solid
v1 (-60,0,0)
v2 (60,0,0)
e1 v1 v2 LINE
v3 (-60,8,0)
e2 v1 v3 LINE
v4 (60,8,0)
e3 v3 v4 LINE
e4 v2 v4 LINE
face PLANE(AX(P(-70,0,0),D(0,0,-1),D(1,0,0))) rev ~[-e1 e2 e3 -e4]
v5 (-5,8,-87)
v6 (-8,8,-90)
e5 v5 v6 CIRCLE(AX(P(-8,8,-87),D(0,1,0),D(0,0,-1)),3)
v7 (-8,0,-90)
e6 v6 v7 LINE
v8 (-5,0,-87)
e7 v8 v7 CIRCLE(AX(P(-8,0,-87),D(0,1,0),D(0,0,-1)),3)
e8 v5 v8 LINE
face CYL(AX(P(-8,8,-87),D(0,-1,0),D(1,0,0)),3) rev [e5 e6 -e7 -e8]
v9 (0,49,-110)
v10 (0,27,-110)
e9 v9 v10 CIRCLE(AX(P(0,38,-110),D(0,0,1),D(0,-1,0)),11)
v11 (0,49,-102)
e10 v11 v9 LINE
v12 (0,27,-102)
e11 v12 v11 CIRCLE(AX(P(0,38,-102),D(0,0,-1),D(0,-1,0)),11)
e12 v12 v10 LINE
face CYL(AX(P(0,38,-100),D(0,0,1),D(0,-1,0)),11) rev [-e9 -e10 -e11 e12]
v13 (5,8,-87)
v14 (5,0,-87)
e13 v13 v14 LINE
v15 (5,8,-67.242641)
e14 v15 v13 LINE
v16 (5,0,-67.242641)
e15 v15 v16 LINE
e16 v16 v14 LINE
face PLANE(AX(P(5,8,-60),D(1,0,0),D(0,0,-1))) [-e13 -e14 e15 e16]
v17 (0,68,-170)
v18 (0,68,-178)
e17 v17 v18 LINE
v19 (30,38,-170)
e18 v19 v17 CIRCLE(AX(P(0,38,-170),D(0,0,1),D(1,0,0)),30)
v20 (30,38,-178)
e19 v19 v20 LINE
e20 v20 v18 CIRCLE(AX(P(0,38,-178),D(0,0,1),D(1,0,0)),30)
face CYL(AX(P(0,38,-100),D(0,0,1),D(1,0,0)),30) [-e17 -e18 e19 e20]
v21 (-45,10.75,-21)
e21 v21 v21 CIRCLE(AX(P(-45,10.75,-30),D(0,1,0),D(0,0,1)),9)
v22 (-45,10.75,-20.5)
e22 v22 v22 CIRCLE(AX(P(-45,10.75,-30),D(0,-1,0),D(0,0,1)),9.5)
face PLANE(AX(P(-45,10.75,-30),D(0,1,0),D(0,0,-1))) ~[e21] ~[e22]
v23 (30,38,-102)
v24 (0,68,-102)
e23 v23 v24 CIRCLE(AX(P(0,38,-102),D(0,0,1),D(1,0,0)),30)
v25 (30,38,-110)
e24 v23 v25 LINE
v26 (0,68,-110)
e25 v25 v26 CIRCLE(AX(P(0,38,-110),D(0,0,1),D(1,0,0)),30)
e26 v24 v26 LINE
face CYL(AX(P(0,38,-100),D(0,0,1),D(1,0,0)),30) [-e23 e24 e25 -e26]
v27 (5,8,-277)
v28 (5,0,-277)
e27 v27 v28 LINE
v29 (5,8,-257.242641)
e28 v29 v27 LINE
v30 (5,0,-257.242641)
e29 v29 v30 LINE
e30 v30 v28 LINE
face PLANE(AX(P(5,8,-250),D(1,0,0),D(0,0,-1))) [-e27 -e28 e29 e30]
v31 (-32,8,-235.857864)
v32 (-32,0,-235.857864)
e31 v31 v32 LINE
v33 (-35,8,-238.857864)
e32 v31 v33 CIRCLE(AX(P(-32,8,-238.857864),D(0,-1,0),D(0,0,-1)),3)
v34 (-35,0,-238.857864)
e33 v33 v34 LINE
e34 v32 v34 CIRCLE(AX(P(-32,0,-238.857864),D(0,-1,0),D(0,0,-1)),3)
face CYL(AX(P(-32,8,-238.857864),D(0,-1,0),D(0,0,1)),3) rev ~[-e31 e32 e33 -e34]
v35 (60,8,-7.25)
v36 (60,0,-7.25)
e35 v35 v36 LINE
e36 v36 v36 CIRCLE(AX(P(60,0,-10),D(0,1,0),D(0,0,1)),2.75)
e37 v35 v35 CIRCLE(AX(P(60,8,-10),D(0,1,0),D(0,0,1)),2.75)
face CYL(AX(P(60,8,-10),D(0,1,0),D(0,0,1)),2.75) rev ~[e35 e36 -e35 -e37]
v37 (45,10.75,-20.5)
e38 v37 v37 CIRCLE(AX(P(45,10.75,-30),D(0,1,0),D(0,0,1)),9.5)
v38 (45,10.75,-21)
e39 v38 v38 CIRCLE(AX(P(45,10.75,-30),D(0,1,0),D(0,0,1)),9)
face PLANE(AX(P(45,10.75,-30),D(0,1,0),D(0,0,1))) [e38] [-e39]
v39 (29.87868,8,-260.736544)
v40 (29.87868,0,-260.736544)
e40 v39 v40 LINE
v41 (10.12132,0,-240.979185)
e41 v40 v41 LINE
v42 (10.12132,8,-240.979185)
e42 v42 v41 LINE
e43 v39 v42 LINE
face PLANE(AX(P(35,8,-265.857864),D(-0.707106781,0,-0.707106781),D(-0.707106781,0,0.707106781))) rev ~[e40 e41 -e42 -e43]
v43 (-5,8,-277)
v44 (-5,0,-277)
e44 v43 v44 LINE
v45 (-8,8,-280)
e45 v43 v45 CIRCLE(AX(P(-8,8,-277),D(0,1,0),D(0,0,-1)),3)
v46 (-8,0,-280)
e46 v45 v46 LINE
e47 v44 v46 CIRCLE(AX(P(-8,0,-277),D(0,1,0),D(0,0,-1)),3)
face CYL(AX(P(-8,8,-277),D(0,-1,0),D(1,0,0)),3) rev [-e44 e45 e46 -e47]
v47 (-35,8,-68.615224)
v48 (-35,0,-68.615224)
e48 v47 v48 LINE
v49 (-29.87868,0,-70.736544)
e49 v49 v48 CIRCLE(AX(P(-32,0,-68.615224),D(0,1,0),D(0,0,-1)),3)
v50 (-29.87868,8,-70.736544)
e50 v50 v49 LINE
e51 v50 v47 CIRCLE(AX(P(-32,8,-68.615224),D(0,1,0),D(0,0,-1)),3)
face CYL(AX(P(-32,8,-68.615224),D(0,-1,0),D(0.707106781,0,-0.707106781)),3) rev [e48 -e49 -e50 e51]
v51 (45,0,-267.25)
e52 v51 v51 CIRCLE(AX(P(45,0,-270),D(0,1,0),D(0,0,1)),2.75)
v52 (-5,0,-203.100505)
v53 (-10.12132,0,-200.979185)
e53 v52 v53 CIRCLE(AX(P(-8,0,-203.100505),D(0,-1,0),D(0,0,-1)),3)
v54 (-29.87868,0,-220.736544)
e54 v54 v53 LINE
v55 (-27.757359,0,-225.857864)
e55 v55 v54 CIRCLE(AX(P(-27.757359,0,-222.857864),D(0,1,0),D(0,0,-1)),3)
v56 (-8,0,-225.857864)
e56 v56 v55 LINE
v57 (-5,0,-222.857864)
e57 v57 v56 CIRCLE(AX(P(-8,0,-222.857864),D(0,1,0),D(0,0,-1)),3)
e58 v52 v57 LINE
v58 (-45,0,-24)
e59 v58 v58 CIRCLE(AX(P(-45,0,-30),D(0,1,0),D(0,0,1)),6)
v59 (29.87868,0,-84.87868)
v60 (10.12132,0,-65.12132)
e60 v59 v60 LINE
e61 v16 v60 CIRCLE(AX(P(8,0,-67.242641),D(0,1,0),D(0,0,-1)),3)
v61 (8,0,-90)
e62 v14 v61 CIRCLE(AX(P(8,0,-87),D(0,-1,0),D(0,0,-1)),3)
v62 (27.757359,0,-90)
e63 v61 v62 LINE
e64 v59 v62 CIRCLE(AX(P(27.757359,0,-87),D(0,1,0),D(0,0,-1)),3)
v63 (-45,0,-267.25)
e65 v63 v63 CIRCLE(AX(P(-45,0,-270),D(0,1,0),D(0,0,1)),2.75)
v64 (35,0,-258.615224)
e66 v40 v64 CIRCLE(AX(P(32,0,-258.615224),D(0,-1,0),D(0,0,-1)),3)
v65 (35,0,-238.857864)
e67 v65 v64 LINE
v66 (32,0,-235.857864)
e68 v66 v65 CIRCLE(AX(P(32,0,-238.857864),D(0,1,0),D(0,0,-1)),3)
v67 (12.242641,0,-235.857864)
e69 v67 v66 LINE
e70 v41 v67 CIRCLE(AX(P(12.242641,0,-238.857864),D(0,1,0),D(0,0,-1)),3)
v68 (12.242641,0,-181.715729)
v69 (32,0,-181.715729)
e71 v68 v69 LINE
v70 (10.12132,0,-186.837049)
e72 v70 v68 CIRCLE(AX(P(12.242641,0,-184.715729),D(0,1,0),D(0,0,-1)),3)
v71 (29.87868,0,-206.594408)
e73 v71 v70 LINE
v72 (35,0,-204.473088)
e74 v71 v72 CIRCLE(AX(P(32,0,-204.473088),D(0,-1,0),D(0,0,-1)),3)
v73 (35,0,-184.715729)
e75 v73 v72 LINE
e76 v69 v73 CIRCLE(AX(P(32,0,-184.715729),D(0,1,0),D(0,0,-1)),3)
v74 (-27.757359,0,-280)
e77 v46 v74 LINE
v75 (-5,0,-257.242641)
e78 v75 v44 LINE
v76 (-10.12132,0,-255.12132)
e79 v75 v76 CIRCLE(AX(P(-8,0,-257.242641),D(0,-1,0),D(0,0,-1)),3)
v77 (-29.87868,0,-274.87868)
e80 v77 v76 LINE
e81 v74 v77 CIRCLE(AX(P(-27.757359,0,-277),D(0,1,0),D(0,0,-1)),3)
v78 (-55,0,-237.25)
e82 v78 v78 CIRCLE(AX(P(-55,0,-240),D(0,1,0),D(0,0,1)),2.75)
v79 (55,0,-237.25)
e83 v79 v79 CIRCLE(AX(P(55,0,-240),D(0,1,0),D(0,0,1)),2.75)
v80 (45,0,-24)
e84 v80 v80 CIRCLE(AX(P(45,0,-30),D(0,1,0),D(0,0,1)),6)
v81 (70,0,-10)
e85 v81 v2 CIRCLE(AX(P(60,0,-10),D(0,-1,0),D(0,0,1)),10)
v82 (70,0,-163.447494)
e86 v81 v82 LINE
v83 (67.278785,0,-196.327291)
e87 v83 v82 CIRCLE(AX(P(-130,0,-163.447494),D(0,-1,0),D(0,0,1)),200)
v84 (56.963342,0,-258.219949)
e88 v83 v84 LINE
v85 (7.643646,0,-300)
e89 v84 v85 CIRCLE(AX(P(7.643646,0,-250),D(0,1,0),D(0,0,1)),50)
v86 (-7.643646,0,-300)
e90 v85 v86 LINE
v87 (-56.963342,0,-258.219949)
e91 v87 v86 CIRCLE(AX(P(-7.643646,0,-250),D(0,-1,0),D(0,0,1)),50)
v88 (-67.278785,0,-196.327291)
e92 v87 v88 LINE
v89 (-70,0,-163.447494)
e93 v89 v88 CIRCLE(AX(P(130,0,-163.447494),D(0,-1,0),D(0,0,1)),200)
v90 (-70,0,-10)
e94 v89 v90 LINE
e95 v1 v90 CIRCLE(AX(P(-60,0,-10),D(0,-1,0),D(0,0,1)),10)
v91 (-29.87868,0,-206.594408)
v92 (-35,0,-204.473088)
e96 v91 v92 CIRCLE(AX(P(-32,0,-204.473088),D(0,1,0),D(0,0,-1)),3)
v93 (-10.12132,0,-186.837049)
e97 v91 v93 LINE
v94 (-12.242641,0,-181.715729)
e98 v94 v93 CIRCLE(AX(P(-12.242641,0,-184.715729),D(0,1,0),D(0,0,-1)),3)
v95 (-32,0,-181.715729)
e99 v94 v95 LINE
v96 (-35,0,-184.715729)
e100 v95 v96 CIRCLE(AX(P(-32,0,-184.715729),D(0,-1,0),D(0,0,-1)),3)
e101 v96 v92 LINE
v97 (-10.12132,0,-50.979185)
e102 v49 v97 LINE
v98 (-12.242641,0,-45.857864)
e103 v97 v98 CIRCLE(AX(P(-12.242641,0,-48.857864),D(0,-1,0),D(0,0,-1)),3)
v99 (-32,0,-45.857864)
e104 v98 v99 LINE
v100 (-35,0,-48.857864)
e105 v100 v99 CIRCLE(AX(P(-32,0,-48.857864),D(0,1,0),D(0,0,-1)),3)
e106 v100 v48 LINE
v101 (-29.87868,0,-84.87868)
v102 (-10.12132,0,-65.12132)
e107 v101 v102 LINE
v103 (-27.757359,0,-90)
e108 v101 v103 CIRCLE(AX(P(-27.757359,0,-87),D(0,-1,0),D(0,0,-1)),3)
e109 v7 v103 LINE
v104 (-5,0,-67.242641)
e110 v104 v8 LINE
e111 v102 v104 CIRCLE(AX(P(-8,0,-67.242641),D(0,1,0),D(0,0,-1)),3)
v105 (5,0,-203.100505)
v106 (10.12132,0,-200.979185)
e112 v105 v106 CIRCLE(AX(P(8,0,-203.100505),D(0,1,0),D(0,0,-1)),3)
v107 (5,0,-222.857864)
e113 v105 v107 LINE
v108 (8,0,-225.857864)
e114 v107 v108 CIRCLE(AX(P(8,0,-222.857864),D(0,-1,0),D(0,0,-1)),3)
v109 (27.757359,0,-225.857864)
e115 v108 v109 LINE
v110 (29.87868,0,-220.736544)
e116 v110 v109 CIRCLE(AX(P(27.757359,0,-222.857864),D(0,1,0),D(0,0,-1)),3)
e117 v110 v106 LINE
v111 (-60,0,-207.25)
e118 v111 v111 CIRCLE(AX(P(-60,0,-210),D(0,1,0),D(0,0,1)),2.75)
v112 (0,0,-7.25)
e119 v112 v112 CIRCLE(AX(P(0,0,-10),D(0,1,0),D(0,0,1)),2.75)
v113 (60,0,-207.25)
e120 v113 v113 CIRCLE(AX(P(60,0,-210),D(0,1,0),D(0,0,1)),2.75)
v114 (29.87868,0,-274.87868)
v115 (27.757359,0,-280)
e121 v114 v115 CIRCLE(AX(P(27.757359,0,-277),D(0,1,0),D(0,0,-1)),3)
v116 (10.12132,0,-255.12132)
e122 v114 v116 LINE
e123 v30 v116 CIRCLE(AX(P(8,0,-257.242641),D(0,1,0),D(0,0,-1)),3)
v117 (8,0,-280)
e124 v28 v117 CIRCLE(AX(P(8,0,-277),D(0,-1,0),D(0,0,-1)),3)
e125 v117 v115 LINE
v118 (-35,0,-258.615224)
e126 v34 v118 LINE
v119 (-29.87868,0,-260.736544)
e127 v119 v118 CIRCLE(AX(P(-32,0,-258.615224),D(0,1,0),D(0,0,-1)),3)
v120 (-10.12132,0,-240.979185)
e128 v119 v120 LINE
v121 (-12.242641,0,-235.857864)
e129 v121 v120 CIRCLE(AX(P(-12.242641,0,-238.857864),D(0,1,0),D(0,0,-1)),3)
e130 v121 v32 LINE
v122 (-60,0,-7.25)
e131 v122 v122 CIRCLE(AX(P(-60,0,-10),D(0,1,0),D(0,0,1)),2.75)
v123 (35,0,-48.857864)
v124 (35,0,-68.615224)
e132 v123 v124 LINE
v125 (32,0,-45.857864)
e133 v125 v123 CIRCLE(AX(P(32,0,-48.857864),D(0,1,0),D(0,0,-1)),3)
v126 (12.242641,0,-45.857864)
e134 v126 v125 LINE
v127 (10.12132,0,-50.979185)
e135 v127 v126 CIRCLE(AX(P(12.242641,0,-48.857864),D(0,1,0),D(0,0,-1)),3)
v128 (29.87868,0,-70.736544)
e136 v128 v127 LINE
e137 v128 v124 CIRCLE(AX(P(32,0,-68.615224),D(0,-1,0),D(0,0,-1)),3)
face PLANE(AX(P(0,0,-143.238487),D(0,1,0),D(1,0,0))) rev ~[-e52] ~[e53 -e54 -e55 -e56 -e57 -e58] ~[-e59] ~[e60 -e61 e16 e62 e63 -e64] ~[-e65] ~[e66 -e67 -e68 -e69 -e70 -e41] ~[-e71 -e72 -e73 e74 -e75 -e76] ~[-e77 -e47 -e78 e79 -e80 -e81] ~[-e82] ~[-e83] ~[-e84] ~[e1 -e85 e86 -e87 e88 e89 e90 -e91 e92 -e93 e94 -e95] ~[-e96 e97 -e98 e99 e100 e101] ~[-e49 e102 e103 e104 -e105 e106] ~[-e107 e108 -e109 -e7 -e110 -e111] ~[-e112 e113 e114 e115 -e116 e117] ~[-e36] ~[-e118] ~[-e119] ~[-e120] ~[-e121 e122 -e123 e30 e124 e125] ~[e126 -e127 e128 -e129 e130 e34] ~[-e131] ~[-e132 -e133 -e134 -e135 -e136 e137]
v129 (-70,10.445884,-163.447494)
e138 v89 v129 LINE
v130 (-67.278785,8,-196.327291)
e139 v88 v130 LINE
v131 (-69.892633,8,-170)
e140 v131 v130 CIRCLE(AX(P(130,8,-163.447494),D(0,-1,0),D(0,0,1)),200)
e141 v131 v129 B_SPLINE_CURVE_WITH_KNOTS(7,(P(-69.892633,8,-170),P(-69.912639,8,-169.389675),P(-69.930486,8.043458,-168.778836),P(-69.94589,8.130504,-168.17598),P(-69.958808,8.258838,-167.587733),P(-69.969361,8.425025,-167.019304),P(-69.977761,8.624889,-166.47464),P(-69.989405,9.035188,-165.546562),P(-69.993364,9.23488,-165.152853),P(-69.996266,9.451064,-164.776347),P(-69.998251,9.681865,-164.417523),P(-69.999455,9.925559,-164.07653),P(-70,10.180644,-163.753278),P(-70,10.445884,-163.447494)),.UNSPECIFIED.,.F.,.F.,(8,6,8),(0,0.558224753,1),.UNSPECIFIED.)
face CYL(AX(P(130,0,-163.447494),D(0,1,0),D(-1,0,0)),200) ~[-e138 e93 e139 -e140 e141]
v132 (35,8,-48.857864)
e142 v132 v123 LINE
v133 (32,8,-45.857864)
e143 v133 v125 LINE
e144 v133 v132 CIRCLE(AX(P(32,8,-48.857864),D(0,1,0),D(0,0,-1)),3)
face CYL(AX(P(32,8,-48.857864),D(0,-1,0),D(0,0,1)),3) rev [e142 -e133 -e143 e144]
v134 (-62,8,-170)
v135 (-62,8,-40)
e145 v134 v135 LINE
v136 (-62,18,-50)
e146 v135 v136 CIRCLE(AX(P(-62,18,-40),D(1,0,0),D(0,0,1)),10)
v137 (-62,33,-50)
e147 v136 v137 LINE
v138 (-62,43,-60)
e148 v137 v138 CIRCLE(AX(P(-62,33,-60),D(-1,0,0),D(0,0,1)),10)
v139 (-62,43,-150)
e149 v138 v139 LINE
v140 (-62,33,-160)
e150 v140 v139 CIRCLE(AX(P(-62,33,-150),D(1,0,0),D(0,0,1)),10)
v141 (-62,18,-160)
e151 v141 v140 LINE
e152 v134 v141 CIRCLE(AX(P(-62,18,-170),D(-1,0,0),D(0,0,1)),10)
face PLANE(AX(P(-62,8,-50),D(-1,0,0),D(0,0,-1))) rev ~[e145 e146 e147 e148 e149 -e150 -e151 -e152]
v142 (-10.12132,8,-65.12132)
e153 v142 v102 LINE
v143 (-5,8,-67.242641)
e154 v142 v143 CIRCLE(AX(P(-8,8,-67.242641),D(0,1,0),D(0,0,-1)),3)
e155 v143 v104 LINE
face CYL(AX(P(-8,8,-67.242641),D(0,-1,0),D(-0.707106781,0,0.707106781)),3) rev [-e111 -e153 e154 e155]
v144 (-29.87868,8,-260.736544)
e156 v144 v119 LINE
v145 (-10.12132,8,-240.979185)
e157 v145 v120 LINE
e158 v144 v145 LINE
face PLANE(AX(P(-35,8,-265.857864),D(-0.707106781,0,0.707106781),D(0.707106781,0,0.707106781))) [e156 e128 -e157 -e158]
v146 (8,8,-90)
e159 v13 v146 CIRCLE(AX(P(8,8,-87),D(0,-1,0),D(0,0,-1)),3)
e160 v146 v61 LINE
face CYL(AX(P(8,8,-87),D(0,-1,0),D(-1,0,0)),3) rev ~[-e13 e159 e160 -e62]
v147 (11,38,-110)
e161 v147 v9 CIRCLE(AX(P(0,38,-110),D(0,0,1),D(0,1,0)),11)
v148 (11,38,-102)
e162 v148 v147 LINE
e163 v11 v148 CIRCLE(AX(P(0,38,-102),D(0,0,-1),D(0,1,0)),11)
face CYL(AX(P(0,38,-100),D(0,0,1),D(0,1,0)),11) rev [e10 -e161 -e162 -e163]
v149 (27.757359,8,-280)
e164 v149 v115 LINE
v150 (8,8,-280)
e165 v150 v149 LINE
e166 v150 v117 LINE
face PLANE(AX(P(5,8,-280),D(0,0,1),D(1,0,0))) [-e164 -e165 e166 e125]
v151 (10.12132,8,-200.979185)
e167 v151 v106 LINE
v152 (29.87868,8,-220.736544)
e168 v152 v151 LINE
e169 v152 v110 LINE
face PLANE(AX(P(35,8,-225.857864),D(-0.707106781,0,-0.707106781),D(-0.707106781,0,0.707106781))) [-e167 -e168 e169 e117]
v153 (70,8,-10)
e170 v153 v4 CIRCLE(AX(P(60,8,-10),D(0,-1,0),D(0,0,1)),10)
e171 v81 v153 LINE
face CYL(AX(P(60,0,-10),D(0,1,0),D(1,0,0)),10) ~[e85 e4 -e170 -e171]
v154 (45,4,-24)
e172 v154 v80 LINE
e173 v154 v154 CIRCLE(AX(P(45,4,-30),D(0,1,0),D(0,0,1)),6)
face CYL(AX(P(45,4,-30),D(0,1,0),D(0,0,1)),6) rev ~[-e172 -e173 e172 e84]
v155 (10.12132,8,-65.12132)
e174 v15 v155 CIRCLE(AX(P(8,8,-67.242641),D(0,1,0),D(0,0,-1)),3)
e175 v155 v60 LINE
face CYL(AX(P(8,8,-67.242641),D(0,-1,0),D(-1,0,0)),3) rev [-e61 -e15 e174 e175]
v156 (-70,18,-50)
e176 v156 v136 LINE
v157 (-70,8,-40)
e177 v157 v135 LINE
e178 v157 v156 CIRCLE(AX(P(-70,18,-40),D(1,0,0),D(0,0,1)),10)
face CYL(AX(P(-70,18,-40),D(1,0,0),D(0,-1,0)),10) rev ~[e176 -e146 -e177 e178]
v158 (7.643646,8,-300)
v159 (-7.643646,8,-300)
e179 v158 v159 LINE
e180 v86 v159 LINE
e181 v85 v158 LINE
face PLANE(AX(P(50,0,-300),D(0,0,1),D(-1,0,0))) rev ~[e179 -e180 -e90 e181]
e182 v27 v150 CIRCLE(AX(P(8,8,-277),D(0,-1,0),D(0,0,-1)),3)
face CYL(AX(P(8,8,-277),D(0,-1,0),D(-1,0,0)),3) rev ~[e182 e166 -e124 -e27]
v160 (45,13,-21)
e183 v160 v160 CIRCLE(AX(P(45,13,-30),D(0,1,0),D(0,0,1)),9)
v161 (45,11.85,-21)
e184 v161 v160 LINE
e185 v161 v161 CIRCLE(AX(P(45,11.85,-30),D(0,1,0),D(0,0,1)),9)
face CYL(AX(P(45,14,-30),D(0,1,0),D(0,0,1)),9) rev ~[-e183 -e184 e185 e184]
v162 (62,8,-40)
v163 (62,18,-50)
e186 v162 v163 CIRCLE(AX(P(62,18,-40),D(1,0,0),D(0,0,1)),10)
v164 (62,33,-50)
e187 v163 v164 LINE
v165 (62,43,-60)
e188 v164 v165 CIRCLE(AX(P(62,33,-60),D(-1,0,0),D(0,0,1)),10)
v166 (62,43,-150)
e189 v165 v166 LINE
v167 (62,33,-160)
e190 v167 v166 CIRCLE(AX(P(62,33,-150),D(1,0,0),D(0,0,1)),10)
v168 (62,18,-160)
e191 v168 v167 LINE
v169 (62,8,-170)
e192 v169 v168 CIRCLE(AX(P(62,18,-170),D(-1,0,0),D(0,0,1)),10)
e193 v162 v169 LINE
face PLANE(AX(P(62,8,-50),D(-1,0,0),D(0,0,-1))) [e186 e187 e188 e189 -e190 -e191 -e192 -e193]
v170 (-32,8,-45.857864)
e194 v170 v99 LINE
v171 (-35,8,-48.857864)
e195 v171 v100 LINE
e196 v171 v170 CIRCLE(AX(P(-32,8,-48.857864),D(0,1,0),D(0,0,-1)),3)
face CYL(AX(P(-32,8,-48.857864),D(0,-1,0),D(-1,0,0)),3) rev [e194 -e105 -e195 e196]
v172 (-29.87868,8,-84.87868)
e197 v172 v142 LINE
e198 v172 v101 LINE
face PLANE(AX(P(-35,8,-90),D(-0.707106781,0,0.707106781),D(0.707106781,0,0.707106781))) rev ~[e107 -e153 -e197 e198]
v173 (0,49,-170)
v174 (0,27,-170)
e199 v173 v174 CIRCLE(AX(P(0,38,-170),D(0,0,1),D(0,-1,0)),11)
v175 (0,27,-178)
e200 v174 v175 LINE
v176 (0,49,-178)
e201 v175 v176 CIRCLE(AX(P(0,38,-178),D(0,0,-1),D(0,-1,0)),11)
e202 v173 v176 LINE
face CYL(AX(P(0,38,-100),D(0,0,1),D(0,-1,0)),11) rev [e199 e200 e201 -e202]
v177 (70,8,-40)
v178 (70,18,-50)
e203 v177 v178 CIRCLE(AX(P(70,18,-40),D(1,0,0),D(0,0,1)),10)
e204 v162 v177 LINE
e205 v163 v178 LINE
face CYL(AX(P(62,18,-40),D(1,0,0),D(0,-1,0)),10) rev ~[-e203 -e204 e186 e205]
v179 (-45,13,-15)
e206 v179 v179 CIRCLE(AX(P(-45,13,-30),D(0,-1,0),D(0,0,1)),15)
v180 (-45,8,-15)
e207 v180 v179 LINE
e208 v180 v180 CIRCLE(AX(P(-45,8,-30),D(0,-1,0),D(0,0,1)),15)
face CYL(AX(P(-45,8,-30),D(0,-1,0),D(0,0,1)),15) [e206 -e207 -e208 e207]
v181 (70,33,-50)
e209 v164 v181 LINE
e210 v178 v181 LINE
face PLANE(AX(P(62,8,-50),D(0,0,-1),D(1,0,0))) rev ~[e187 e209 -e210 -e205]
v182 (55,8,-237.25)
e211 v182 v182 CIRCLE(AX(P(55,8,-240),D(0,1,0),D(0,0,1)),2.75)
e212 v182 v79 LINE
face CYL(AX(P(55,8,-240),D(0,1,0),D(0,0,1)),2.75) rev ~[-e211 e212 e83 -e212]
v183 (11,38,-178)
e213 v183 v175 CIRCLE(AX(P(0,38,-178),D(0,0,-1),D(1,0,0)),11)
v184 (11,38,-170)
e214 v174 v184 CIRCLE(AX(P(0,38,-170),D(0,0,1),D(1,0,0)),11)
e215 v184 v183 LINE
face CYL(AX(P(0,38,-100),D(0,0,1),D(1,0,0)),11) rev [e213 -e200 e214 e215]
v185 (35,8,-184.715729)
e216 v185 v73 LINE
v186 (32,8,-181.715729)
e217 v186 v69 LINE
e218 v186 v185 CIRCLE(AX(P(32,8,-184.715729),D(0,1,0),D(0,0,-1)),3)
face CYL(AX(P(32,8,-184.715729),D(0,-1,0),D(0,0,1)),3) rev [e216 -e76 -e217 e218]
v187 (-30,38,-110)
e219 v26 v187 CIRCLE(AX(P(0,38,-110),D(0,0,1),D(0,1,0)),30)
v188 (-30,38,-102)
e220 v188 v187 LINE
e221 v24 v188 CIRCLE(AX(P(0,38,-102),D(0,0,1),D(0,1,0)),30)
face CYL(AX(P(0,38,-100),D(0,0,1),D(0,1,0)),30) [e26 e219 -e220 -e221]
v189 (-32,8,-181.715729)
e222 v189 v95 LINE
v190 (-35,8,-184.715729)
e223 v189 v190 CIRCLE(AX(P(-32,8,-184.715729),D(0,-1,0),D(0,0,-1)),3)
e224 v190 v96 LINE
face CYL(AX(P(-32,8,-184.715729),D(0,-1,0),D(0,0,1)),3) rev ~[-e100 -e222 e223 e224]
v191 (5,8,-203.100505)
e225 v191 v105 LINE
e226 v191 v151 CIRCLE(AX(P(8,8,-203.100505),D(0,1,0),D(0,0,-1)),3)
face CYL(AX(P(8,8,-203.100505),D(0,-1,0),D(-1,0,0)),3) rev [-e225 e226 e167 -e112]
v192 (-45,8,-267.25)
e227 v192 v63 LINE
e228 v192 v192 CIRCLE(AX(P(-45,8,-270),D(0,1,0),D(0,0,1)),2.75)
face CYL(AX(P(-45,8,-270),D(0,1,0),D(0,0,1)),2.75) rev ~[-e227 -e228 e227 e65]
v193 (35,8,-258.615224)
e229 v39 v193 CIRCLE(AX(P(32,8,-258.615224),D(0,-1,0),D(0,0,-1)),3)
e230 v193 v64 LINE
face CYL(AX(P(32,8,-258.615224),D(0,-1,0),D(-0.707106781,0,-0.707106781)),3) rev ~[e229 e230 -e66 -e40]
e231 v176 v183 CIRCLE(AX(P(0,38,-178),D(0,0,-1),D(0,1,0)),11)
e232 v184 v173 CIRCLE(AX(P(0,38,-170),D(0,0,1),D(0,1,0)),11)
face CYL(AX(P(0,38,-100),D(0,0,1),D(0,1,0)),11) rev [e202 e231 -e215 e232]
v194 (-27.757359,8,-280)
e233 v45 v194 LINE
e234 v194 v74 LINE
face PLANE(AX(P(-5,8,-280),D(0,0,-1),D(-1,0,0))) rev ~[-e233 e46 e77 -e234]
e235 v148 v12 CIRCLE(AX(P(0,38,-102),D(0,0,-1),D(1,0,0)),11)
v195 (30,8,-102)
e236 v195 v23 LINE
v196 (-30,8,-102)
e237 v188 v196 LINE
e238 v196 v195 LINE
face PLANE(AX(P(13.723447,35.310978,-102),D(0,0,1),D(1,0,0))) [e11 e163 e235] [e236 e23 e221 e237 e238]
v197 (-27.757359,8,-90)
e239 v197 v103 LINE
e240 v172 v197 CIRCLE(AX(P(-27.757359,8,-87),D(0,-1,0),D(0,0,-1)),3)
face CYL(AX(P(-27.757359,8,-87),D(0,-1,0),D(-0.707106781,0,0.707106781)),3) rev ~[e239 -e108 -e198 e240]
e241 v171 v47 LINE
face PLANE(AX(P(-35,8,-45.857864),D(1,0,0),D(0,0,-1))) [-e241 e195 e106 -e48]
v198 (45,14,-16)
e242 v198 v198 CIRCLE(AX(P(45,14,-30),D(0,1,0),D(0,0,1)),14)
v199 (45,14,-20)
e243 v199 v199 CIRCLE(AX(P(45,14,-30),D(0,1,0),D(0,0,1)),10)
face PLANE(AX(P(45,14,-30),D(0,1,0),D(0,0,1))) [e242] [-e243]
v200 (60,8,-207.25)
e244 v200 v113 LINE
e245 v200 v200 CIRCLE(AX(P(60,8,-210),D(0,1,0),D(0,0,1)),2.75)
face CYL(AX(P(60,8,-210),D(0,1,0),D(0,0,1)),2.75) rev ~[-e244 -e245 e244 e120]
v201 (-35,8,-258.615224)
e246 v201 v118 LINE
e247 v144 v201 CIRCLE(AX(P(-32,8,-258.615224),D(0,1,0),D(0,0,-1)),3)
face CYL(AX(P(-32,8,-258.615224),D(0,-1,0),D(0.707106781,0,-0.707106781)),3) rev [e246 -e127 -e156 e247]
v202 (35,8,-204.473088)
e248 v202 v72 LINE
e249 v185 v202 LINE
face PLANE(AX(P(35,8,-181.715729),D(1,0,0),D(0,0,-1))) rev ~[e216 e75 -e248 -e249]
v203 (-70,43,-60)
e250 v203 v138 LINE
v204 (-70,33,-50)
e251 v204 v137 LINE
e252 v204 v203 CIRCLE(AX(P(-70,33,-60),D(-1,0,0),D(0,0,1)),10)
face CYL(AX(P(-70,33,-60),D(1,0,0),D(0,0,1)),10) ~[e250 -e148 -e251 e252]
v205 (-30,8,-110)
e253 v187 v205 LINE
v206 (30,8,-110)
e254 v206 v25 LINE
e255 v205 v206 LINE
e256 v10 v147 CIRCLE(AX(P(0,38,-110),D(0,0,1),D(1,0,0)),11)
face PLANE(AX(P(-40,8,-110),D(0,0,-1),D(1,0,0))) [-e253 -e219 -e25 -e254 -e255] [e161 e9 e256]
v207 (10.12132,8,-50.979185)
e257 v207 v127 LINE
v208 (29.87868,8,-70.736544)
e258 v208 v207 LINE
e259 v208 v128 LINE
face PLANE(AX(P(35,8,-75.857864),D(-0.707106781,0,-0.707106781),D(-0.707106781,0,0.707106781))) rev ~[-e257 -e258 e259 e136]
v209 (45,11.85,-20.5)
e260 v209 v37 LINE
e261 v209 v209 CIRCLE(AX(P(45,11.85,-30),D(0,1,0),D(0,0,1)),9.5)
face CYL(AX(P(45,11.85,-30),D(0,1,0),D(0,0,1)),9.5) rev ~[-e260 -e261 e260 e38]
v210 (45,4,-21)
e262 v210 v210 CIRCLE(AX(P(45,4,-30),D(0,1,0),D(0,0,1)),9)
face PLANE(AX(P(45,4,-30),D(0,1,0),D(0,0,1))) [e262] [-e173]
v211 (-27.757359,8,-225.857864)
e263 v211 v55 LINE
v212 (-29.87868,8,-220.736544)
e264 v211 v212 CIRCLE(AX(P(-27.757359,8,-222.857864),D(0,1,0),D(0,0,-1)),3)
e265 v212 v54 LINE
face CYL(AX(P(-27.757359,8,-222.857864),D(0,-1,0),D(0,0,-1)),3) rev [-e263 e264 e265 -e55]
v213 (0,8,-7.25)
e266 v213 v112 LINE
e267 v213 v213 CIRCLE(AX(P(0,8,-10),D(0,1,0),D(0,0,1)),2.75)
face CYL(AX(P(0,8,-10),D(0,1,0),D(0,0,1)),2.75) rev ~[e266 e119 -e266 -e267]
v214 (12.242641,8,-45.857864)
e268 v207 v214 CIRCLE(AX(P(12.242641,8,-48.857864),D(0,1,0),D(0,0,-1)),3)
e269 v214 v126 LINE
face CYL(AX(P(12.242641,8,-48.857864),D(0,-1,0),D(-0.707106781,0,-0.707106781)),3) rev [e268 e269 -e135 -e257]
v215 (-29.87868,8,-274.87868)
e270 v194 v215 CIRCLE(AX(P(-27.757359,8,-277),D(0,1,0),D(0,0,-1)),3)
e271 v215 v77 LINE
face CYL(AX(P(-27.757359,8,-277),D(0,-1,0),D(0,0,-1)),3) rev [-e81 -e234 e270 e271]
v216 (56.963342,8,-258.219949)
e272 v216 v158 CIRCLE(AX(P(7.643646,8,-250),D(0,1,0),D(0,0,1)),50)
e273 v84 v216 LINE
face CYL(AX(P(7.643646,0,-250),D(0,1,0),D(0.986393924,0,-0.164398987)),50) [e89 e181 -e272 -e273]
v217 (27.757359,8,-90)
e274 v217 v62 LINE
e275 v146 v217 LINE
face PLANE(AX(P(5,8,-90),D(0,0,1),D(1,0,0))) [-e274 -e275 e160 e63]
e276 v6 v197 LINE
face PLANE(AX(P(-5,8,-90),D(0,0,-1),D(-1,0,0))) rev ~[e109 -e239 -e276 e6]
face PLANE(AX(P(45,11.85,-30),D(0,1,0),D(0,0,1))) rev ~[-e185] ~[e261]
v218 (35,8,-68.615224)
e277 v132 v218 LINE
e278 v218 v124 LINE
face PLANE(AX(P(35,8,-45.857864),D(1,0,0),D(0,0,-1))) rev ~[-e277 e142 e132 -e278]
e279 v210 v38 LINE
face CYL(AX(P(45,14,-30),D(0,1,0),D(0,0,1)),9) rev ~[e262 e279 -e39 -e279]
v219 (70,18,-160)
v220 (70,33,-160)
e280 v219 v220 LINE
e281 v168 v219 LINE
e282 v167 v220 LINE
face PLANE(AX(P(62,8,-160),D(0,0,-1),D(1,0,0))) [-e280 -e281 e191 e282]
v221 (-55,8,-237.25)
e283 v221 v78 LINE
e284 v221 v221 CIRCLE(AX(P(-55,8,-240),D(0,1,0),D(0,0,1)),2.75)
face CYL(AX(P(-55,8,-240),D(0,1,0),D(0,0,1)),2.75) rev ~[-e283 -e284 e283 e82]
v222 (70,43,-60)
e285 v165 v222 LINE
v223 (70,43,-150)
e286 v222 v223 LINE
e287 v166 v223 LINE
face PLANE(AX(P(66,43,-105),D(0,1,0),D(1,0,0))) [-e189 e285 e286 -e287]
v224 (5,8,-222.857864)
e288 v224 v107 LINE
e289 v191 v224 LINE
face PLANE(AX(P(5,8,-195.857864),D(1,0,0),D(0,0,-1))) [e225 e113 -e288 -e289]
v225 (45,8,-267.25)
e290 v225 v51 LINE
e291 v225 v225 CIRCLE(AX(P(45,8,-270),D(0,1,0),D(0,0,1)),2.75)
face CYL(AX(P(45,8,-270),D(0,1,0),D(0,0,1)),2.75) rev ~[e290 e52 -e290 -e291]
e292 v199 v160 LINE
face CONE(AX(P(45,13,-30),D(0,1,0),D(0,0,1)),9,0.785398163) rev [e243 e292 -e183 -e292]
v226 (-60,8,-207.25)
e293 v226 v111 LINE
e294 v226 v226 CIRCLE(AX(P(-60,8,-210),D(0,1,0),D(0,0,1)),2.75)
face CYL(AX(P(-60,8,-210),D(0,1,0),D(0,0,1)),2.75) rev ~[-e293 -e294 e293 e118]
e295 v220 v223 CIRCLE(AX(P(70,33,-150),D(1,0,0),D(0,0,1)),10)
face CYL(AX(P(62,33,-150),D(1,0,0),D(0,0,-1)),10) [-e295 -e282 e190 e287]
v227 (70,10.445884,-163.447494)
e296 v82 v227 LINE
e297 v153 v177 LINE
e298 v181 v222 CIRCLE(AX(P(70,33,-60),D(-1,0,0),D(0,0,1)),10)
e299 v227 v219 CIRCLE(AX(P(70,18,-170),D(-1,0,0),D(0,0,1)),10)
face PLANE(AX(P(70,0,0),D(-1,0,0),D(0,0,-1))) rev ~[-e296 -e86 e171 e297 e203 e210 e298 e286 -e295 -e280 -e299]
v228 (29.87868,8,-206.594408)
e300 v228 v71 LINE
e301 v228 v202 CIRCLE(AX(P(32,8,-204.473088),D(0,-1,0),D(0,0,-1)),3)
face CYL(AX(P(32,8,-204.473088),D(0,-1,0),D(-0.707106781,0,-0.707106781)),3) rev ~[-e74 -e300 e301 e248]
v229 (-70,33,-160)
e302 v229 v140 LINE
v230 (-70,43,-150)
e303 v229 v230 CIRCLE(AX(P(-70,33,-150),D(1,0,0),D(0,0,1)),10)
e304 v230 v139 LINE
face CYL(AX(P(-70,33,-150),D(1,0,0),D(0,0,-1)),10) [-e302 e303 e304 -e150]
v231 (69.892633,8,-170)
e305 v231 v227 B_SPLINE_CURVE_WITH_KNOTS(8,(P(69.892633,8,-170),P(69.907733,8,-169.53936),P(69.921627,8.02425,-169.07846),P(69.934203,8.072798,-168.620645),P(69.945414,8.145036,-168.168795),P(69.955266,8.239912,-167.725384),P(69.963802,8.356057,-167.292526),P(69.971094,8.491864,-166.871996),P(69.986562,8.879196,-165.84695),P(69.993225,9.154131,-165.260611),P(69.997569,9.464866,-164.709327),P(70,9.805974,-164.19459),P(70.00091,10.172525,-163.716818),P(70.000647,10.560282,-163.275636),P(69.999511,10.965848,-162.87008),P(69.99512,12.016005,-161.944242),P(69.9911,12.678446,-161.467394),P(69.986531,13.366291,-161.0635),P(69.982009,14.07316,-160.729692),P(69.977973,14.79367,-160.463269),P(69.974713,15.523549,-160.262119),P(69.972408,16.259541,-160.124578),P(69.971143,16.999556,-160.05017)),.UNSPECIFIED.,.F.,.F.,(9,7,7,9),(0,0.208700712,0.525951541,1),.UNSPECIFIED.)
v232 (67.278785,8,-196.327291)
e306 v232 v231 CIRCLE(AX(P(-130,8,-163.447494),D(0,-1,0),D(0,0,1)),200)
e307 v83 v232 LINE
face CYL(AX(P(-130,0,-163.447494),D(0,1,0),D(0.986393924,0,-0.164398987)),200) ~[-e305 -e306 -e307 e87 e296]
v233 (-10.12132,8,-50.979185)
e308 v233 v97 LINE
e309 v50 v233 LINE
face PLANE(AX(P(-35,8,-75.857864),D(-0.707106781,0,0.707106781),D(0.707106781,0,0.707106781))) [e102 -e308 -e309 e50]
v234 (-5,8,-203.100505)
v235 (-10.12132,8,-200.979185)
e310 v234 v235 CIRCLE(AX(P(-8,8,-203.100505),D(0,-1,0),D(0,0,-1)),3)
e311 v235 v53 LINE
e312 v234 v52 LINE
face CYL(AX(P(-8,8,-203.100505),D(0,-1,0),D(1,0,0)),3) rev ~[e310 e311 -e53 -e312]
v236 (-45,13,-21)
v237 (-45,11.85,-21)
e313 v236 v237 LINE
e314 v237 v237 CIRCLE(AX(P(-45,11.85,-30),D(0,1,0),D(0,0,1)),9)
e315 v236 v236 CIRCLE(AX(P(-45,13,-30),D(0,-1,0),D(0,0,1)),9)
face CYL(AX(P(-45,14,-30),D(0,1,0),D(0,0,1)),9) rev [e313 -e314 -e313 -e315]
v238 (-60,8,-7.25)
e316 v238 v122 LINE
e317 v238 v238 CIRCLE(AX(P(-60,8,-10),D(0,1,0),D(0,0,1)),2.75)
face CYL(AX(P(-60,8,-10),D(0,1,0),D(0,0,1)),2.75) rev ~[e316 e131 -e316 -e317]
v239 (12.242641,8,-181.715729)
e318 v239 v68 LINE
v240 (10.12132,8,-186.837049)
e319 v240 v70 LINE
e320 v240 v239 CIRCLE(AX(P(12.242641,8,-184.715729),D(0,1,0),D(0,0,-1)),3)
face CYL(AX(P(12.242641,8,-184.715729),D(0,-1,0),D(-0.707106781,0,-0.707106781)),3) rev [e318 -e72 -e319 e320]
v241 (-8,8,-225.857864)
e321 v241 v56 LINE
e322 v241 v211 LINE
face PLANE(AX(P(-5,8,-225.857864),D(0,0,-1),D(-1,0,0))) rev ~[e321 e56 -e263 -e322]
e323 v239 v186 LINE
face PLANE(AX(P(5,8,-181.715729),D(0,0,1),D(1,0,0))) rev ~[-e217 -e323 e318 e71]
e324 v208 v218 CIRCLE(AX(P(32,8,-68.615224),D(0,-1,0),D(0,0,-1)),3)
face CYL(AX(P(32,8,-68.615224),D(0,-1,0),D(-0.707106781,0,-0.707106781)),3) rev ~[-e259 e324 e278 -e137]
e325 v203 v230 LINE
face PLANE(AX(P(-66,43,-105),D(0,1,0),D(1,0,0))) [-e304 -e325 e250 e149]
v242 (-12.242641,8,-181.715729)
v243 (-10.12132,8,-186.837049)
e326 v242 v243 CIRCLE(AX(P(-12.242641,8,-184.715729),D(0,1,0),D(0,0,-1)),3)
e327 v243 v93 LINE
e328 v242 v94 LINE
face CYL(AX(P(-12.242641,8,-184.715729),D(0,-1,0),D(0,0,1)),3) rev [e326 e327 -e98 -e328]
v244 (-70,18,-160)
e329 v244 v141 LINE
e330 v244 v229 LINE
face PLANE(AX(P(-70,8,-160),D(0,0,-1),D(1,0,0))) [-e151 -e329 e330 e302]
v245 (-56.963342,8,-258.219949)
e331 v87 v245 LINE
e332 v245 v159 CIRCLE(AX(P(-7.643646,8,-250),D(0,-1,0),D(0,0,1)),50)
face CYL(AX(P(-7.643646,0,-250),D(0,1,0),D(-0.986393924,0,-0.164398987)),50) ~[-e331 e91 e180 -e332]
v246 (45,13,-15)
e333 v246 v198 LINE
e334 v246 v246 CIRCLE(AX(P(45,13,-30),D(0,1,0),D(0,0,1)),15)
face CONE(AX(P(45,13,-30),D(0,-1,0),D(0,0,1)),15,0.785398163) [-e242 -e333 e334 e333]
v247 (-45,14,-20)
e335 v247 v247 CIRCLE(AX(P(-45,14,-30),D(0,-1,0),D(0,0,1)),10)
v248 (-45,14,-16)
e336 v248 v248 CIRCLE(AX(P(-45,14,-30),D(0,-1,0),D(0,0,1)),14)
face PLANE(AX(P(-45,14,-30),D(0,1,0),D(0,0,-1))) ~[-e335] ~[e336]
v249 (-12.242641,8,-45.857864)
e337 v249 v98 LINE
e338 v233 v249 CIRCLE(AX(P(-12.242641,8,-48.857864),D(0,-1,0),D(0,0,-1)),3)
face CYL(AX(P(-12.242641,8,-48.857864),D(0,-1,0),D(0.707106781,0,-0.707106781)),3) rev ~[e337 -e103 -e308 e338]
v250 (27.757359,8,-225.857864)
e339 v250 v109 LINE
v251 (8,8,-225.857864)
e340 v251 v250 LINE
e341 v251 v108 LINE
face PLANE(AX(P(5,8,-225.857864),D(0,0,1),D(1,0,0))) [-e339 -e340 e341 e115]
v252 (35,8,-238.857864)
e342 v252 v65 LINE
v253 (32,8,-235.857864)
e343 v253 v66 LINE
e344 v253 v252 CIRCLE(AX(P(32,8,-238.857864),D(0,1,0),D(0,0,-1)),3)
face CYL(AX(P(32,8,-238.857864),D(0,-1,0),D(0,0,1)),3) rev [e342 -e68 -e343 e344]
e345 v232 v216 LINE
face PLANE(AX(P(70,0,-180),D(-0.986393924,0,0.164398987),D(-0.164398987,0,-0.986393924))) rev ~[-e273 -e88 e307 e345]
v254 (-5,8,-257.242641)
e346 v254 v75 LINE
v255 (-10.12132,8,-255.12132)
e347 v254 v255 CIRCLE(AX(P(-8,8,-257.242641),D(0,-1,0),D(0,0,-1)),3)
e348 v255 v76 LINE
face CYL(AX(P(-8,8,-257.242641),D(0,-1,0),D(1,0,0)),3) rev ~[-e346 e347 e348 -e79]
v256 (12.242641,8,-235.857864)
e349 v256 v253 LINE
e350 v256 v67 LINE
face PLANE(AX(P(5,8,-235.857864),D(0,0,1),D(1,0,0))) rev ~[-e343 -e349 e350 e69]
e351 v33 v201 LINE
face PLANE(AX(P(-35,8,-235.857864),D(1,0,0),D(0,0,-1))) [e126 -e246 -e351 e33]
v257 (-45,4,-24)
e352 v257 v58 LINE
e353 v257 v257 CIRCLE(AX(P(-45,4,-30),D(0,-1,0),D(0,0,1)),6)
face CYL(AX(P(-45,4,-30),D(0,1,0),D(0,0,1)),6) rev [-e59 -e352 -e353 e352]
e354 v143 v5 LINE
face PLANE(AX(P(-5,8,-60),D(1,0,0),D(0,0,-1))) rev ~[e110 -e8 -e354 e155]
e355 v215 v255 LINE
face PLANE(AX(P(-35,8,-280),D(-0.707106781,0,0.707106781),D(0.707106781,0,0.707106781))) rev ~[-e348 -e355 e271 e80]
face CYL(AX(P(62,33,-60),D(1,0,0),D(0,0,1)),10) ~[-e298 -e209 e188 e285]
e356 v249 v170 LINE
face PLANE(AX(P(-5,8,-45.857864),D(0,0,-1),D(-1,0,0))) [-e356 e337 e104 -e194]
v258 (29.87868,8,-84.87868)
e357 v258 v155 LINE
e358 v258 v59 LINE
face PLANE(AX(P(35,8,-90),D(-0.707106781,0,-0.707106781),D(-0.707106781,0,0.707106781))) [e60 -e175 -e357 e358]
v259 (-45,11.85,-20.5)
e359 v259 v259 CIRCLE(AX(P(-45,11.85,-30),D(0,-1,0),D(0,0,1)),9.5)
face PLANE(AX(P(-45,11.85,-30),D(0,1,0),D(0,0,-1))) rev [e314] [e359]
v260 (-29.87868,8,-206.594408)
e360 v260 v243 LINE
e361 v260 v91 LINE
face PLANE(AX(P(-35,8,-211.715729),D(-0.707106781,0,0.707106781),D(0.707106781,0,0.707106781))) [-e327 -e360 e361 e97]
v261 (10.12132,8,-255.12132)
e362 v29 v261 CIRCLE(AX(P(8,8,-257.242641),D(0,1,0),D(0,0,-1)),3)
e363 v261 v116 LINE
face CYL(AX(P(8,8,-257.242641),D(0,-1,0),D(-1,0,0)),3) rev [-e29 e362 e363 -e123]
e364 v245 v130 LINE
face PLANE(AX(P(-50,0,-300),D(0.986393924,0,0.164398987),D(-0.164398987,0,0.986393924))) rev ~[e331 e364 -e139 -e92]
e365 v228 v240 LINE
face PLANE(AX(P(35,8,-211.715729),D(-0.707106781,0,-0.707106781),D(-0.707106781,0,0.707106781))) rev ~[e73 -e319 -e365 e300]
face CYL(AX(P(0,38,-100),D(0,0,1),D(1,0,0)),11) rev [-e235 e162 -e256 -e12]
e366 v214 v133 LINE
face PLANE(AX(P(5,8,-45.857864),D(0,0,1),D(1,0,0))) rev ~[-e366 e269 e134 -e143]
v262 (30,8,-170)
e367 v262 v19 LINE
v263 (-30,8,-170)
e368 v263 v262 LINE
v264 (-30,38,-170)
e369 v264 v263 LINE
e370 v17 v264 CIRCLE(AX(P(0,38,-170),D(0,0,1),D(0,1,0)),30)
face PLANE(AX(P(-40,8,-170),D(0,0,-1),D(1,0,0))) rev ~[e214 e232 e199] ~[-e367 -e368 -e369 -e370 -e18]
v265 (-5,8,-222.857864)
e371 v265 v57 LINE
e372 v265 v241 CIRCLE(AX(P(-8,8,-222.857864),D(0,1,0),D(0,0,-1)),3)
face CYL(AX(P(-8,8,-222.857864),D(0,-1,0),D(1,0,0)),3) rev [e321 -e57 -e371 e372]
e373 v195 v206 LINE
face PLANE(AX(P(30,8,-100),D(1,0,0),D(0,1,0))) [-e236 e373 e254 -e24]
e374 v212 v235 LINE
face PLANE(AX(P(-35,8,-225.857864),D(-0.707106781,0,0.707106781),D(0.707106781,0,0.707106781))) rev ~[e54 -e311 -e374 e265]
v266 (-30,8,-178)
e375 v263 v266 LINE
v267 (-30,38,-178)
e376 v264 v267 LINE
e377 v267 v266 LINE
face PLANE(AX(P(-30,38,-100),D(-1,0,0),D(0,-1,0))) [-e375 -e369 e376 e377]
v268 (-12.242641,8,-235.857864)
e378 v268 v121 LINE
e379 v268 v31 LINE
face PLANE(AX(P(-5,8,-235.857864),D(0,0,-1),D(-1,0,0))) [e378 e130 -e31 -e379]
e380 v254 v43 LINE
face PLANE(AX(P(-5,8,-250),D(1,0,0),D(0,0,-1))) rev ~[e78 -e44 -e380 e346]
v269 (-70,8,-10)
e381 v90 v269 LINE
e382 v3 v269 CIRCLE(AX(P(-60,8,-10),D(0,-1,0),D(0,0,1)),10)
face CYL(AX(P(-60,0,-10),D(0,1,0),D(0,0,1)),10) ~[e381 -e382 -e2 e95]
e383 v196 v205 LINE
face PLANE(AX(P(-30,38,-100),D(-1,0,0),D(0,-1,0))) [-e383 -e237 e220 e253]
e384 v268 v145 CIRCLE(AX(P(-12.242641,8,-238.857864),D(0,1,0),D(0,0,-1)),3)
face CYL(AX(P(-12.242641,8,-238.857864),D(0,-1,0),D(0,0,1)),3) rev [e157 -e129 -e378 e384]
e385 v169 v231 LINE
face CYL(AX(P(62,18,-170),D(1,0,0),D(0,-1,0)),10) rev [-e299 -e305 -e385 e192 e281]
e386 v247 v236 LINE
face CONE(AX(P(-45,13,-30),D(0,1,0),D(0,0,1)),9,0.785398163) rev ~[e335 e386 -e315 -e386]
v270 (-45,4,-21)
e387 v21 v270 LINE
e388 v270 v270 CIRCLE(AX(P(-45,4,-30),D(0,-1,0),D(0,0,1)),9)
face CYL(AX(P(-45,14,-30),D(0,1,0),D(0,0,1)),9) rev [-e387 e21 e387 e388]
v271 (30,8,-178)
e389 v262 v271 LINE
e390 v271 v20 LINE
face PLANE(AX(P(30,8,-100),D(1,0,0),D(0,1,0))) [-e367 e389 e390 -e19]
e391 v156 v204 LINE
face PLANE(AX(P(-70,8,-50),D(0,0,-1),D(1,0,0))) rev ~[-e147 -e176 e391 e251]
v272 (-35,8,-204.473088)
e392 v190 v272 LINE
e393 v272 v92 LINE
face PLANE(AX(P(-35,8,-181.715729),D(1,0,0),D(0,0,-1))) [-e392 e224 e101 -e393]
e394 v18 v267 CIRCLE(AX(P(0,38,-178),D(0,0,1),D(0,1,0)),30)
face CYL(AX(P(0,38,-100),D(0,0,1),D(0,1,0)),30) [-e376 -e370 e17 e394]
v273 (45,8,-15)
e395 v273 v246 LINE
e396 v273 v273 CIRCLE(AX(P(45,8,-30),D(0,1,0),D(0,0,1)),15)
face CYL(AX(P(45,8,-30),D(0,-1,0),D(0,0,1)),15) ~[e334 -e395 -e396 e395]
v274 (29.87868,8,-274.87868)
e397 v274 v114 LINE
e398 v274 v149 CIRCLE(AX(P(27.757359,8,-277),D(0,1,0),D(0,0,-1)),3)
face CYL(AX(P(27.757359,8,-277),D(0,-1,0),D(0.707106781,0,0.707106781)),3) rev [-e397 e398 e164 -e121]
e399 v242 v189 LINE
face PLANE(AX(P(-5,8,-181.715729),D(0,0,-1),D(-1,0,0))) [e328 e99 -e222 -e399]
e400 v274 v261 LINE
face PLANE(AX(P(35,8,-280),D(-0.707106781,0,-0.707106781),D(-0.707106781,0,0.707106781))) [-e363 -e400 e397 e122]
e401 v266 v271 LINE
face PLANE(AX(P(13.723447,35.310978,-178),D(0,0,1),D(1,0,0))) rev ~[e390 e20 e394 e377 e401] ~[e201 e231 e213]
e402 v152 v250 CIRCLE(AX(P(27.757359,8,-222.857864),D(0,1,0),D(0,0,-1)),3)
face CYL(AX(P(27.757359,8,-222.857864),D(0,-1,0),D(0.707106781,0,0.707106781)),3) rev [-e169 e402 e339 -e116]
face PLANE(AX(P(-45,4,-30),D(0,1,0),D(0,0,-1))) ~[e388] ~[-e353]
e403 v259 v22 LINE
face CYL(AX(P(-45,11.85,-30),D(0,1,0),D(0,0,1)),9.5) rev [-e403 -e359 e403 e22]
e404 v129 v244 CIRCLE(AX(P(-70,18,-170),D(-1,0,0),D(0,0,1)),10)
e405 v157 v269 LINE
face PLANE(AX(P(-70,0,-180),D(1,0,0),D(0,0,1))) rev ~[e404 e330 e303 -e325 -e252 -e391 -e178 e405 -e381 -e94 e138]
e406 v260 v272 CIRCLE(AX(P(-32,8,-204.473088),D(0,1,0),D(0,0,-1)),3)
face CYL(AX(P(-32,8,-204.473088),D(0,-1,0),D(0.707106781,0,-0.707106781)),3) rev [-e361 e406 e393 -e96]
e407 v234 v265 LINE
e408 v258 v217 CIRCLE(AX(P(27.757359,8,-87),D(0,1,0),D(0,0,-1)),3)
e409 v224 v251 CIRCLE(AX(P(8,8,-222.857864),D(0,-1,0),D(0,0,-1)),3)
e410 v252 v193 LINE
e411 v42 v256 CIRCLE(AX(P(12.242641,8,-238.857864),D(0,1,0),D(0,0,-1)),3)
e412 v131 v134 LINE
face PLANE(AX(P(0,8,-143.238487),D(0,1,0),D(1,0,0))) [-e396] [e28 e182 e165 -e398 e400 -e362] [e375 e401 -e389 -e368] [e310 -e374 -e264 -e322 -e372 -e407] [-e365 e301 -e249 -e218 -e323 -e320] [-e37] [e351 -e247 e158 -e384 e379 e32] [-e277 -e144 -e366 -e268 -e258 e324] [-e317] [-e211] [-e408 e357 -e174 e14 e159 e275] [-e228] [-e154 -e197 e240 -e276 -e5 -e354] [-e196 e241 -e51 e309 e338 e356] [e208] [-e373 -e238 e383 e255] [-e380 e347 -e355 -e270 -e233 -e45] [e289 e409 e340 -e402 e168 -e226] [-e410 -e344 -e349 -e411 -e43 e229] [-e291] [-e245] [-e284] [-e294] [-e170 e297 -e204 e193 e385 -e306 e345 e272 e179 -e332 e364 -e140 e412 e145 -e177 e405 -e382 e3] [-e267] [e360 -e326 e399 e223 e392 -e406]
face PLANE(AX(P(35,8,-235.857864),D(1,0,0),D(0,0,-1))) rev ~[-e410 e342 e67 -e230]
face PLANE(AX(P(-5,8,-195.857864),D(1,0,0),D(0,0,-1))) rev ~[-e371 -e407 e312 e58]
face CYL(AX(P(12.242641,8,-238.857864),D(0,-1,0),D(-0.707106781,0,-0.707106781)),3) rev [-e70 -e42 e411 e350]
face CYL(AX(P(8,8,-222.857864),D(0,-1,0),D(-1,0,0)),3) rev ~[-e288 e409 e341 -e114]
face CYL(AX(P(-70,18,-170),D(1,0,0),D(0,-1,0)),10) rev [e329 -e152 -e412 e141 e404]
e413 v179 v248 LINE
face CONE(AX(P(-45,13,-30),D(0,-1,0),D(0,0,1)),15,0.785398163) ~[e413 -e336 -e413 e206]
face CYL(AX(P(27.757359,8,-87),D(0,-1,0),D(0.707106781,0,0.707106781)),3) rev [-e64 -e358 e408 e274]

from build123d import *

# Parameters (mm, degrees)
EXTRUDE_1_DEPTH            = 8
EXTRUDE_START              = -100
EXTRUDE_3_DEPTH            = 80
SKETCH_5_W                 = 80
SKETCH_5_H                 = 60
CUT_EXTRUDE_2_DEPTH        = 110
FILLET_1_R                 = 50
FILLET_2_R                 = 200
SKETCH_7_R                 = 9
CUT_EXTRUDE_6_DEPTH        = 4
SKETCH_10_R                = 6
CUT_EXTRUDE_7_DEPTH        = 28
SKETCH_12_R                = 15
EXTRUDE_5_DEPTH            = 6
SKETCH_13_R                = 9
CUT_EXTRUDE_9_DEPTH        = 6
CUT_EXTRUDE_START          = -2.15
SKETCH_14_R                = 9.5
CUT_EXTRUDE_4235_DEPTH     = 1.1
CHAMFER_1_SIZE             = 1
CHAMFER_1_OF_MIRROR_1_SIZE = 1
SKETCH_23_W                = 8
SKETCH_23_H                = 110
EXTRUDE_7_DEPTH            = 35
FILLET_5_R                 = 10
MOVE_FACE_1_BY             = 2
MOVE_FACE_1_2_BY           = 2
SKETCH_24_R                = 2.75
CUT_EXTRUDE_13_DEPTH       = 40
FILLET_6_R                 = 3


with BuildPart() as part:
    # 草图1 → 凸台-拉伸1 (new body)
    with BuildSketch(Plane(origin=(0, 0, 0), x_dir=(1, 0, 0), z_dir=(0, 1, 0))):
        Polygon((-70, 0), (70, 0), (70, 180), (50, 300), (-50, 300), (-70, 180), align=None)
    extrude(amount=EXTRUDE_1_DEPTH)

    # 草图4 → 凸台-拉伸3 (add)
    with BuildSketch(Plane.XY.offset(EXTRUDE_START)):
        with BuildLine():
            Line((0, 27), (0, 8))
            Line((0, 8), (30, 8))
            Line((30, 8), (30, 38))
            ThreePointArc((30, 38), (21.213203436, 59.213203436), (0, 68))
            Line((0, 68), (0, 49))
            ThreePointArc((0, 49), (7.778174593, 45.778174593), (11, 38))
            ThreePointArc((11, 38), (7.778174593, 30.221825407), (0, 27))
        make_face()
        with BuildLine():
            Line((-30, 8), (0, 8))
            Line((0, 8), (0, 27))
            ThreePointArc((0, 27), (-11, 38), (0, 49))
            Line((0, 49), (0, 68))
            ThreePointArc((0, 68), (-21.213203436, 59.213203436), (-30, 38))
            Line((-30, 38), (-30, 8))
        make_face()
    extrude(amount=-EXTRUDE_3_DEPTH)

    # 草图5 → 切除-拉伸2 (cut)
    with BuildSketch(Plane(origin=(0, 8, 0), x_dir=(1, 0, 0), z_dir=(0, 1, 0))):
        with Locations((0, 140)):
            Rectangle(SKETCH_5_W, SKETCH_5_H)
    extrude(amount=CUT_EXTRUDE_2_DEPTH, mode=Mode.SUBTRACT)

    # 圆角1
    fillet_1_edges = [part.edges().sort_by_distance(p)[0] for p in [
        (-50, 4, -300),
        (50, 4, -300),
    ]]
    fillet(fillet_1_edges, radius=FILLET_1_R)

    # 圆角2
    fillet_2_edges = [part.edges().sort_by_distance(p)[0] for p in [
        (-70, 4, -180),
        (70, 4, -180),
    ]]
    fillet(fillet_2_edges, radius=FILLET_2_R)

    # 草图7 → 切除-拉伸6 (cut)
    with BuildSketch(Plane(origin=(0, 8, 0), x_dir=(1, 0, 0), z_dir=(0, 1, 0))):
        with Locations(Location((45, 30, 0), (0, 0, 270))):
            Circle(SKETCH_7_R)
    cut_extrude_6 = extrude(amount=-CUT_EXTRUDE_6_DEPTH, mode=Mode.SUBTRACT)

    # 草图10 → 切除-拉伸7 (cut)
    with BuildSketch(Plane(origin=(0, 4, 0), x_dir=(1, 0, 0), z_dir=(0, 1, 0))):
        with Locations(Location((45, 30, 0), (0, 0, 270))):
            Circle(SKETCH_10_R)
    cut_extrude_7 = extrude(amount=-CUT_EXTRUDE_7_DEPTH, mode=Mode.SUBTRACT)

    # 草图12 → 凸台-拉伸5 (add)
    with BuildSketch(Plane(origin=(0, 8, 0), x_dir=(1, 0, 0), z_dir=(0, 1, 0))):
        with Locations(Location((45, 30, 0), (0, 0, 270))):
            Circle(SKETCH_12_R)
    extrude_5 = extrude(amount=EXTRUDE_5_DEPTH)

    # 草图13 → 切除-拉伸9 (cut)
    with BuildSketch(Plane(origin=(0, 14, 0), x_dir=(1, 0, 0), z_dir=(0, 1, 0))):
        with Locations(Location((45, 30, 0), (0, 0, 270))):
            Circle(SKETCH_13_R)
    cut_extrude_9 = extrude(amount=-CUT_EXTRUDE_9_DEPTH, mode=Mode.SUBTRACT)

    # 草图14 → Cut-Extrude 4235 (cut)
    with BuildSketch(Plane(origin=(0, 14, 0), x_dir=(1, 0, 0), z_dir=(0, 1, 0)).offset(CUT_EXTRUDE_START)):
        with Locations(Location((45, 30, 0), (0, 0, 270))):
            Circle(SKETCH_14_R)
    cut_extrude_4235 = extrude(amount=-CUT_EXTRUDE_4235_DEPTH, mode=Mode.SUBTRACT)

    # 倒角1
    chamfer_1_edges = [part.edges().sort_by_distance(p)[0] for p in [
        (45, 14, -45),
        (45, 14, -39),
    ]]
    chamfer(chamfer_1_edges, length=CHAMFER_1_SIZE)

    # 镜向1: 切除-拉伸6, 切除-拉伸7, 凸台-拉伸5, 切除-拉伸9, Cut-Extrude 4235 across plane
    add(cut_extrude_6.mirror(Plane.ZY), mode=Mode.SUBTRACT)
    add(cut_extrude_7.mirror(Plane.ZY), mode=Mode.SUBTRACT)
    add(extrude_5.mirror(Plane.ZY))
    add(cut_extrude_9.mirror(Plane.ZY), mode=Mode.SUBTRACT)
    add(cut_extrude_4235.mirror(Plane.ZY), mode=Mode.SUBTRACT)

    # 倒角1 of 镜向1
    chamfer_1_of_mirror_1_edges = [part.edges().sort_by_distance(p)[0] for p in [
        (-45, 14, -45),
        (-45, 14, -39),
    ]]
    chamfer(chamfer_1_of_mirror_1_edges, length=CHAMFER_1_OF_MIRROR_1_SIZE)

    # 草图23 → 凸台-拉伸7 (add)
    with BuildSketch(Plane(origin=(0, 8, 0), x_dir=(1, 0, 0), z_dir=(0, 1, 0))):
        with Locations((66, 105)):
            Rectangle(SKETCH_23_W, SKETCH_23_H)
        with Locations((-66, 105)):
            Rectangle(SKETCH_23_W, SKETCH_23_H)
    extrude(amount=EXTRUDE_7_DEPTH)

    # 圆角5
    fillet_5_edges = [part.edges().sort_by_distance(p)[0] for p in [
        (70, 4, 0),
        (-70, 4, 0),
        (66, 8, -50),
        (66, 8, -160),
        (66, 43, -50),
        (66, 43, -160),
        (-66, 8, -160),
        (-66, 8, -50),
        (-66, 43, -160),
        (-66, 43, -50),
    ]]
    fillet(fillet_5_edges, radius=FILLET_5_R)

    # Move Face 1: a face moved inward by 2.0
    extrude(part.faces().sort_by_distance((0, 23, -180))[0], amount=MOVE_FACE_1_BY, dir=(0, 0, 1), mode=Mode.SUBTRACT)

    # Move Face 1 2: a face moved inward by 2.0
    extrude(part.faces().sort_by_distance((0, 23, -100))[0], amount=MOVE_FACE_1_2_BY, dir=(0, 0, -1), mode=Mode.SUBTRACT)

    # 草图24 → 切除-拉伸13 (cut)
    with BuildSketch(Plane(origin=(0, 8, 0), x_dir=(1, 0, 0), z_dir=(0, 1, 0))):
        with Locations(Location((45, 270, 0), (0, 0, 270))):
            Circle(SKETCH_24_R)
        with Locations(Location((55, 240, 0), (0, 0, 270))):
            Circle(SKETCH_24_R)
        with Locations(Location((60, 210, 0), (0, 0, 270))):
            Circle(SKETCH_24_R)
        with Locations(Location((60, 10, 0), (0, 0, 270))):
            Circle(SKETCH_24_R)
        with Locations(Location((0, 10, 0), (0, 0, 270))):
            Circle(SKETCH_24_R)
        with Locations(Location((-60, 10, 0), (0, 0, 270))):
            Circle(SKETCH_24_R)
        with Locations(Location((-60, 210, 0), (0, 0, 270))):
            Circle(SKETCH_24_R)
        with Locations(Location((-55, 240, 0), (0, 0, 270))):
            Circle(SKETCH_24_R)
        with Locations(Location((-45, 270, 0), (0, 0, 270))):
            Circle(SKETCH_24_R)
        Polygon((5, 90), (35, 90), (5, 60), align=None)
        Polygon((35, 75.857864376), (5, 45.857864376), (35, 45.857864376), align=None)
        Polygon((-5, 45.857864376), (-35, 45.857864376), (-35, 75.857864376), align=None)
        Polygon((-35, 90), (-5, 60), (-5, 90), align=None)
        Polygon((5, 280), (35, 280), (5, 250), align=None)
        Polygon((35, 265.857864376), (5, 235.857864376), (35, 235.857864376), align=None)
        Polygon((5, 225.857864376), (35, 225.857864376), (5, 195.857864376), align=None)
        Polygon((35, 211.715728753), (5, 181.715728753), (35, 181.715728753), align=None)
        Polygon((-35, 181.715728753), (-35, 211.715728753), (-5, 181.715728753), align=None)
        Polygon((-5, 195.857864376), (-5, 225.857864376), (-35, 225.857864376), align=None)
        Polygon((-35, 235.857864376), (-35, 265.857864376), (-5, 235.857864376), align=None)
        Polygon((-5, 250), (-5, 280), (-35, 280), align=None)
    extrude(amount=-CUT_EXTRUDE_13_DEPTH, mode=Mode.SUBTRACT)

    # 圆角6
    fillet_6_edges = [part.edges().sort_by_distance(p)[0] for p in [
        (-35, 4, -90),
        (-5, 4, -90),
        (-5, 4, -60),
        (5, 4, -250),
        (5, 4, -280),
        (35, 4, -280),
        (35, 4, -265.857864376),
        (35, 4, -235.857864376),
        (5, 4, -235.857864376),
        (35, 4, -75.857864376),
        (35, 4, -45.857864376),
        (5, 4, -45.857864376),
        (-35, 4, -75.857864376),
        (-5, 4, -45.857864376),
        (-35, 4, -45.857864376),
        (-5, 4, -235.857864376),
        (-35, 4, -235.857864376),
        (-35, 4, -265.857864376),
        (-5, 4, -250),
        (-35, 4, -280),
        (-5, 4, -280),
        (-5, 4, -181.715728753),
        (-35, 4, -181.715728753),
        (-35, 4, -211.715728753),
        (5, 4, -195.857864376),
        (5, 4, -225.857864376),
        (35, 4, -225.857864376),
        (35, 4, -211.715728753),
        (35, 4, -181.715728753),
        (5, 4, -181.715728753),
        (-5, 4, -195.857864376),
        (-35, 4, -225.857864376),
        (-5, 4, -225.857864376),
        (5, 4, -60),
        (5, 4, -90),
        (35, 4, -90),
    ]]
    fillet(fillet_6_edges, radius=FILLET_6_R)


solid = part.part
